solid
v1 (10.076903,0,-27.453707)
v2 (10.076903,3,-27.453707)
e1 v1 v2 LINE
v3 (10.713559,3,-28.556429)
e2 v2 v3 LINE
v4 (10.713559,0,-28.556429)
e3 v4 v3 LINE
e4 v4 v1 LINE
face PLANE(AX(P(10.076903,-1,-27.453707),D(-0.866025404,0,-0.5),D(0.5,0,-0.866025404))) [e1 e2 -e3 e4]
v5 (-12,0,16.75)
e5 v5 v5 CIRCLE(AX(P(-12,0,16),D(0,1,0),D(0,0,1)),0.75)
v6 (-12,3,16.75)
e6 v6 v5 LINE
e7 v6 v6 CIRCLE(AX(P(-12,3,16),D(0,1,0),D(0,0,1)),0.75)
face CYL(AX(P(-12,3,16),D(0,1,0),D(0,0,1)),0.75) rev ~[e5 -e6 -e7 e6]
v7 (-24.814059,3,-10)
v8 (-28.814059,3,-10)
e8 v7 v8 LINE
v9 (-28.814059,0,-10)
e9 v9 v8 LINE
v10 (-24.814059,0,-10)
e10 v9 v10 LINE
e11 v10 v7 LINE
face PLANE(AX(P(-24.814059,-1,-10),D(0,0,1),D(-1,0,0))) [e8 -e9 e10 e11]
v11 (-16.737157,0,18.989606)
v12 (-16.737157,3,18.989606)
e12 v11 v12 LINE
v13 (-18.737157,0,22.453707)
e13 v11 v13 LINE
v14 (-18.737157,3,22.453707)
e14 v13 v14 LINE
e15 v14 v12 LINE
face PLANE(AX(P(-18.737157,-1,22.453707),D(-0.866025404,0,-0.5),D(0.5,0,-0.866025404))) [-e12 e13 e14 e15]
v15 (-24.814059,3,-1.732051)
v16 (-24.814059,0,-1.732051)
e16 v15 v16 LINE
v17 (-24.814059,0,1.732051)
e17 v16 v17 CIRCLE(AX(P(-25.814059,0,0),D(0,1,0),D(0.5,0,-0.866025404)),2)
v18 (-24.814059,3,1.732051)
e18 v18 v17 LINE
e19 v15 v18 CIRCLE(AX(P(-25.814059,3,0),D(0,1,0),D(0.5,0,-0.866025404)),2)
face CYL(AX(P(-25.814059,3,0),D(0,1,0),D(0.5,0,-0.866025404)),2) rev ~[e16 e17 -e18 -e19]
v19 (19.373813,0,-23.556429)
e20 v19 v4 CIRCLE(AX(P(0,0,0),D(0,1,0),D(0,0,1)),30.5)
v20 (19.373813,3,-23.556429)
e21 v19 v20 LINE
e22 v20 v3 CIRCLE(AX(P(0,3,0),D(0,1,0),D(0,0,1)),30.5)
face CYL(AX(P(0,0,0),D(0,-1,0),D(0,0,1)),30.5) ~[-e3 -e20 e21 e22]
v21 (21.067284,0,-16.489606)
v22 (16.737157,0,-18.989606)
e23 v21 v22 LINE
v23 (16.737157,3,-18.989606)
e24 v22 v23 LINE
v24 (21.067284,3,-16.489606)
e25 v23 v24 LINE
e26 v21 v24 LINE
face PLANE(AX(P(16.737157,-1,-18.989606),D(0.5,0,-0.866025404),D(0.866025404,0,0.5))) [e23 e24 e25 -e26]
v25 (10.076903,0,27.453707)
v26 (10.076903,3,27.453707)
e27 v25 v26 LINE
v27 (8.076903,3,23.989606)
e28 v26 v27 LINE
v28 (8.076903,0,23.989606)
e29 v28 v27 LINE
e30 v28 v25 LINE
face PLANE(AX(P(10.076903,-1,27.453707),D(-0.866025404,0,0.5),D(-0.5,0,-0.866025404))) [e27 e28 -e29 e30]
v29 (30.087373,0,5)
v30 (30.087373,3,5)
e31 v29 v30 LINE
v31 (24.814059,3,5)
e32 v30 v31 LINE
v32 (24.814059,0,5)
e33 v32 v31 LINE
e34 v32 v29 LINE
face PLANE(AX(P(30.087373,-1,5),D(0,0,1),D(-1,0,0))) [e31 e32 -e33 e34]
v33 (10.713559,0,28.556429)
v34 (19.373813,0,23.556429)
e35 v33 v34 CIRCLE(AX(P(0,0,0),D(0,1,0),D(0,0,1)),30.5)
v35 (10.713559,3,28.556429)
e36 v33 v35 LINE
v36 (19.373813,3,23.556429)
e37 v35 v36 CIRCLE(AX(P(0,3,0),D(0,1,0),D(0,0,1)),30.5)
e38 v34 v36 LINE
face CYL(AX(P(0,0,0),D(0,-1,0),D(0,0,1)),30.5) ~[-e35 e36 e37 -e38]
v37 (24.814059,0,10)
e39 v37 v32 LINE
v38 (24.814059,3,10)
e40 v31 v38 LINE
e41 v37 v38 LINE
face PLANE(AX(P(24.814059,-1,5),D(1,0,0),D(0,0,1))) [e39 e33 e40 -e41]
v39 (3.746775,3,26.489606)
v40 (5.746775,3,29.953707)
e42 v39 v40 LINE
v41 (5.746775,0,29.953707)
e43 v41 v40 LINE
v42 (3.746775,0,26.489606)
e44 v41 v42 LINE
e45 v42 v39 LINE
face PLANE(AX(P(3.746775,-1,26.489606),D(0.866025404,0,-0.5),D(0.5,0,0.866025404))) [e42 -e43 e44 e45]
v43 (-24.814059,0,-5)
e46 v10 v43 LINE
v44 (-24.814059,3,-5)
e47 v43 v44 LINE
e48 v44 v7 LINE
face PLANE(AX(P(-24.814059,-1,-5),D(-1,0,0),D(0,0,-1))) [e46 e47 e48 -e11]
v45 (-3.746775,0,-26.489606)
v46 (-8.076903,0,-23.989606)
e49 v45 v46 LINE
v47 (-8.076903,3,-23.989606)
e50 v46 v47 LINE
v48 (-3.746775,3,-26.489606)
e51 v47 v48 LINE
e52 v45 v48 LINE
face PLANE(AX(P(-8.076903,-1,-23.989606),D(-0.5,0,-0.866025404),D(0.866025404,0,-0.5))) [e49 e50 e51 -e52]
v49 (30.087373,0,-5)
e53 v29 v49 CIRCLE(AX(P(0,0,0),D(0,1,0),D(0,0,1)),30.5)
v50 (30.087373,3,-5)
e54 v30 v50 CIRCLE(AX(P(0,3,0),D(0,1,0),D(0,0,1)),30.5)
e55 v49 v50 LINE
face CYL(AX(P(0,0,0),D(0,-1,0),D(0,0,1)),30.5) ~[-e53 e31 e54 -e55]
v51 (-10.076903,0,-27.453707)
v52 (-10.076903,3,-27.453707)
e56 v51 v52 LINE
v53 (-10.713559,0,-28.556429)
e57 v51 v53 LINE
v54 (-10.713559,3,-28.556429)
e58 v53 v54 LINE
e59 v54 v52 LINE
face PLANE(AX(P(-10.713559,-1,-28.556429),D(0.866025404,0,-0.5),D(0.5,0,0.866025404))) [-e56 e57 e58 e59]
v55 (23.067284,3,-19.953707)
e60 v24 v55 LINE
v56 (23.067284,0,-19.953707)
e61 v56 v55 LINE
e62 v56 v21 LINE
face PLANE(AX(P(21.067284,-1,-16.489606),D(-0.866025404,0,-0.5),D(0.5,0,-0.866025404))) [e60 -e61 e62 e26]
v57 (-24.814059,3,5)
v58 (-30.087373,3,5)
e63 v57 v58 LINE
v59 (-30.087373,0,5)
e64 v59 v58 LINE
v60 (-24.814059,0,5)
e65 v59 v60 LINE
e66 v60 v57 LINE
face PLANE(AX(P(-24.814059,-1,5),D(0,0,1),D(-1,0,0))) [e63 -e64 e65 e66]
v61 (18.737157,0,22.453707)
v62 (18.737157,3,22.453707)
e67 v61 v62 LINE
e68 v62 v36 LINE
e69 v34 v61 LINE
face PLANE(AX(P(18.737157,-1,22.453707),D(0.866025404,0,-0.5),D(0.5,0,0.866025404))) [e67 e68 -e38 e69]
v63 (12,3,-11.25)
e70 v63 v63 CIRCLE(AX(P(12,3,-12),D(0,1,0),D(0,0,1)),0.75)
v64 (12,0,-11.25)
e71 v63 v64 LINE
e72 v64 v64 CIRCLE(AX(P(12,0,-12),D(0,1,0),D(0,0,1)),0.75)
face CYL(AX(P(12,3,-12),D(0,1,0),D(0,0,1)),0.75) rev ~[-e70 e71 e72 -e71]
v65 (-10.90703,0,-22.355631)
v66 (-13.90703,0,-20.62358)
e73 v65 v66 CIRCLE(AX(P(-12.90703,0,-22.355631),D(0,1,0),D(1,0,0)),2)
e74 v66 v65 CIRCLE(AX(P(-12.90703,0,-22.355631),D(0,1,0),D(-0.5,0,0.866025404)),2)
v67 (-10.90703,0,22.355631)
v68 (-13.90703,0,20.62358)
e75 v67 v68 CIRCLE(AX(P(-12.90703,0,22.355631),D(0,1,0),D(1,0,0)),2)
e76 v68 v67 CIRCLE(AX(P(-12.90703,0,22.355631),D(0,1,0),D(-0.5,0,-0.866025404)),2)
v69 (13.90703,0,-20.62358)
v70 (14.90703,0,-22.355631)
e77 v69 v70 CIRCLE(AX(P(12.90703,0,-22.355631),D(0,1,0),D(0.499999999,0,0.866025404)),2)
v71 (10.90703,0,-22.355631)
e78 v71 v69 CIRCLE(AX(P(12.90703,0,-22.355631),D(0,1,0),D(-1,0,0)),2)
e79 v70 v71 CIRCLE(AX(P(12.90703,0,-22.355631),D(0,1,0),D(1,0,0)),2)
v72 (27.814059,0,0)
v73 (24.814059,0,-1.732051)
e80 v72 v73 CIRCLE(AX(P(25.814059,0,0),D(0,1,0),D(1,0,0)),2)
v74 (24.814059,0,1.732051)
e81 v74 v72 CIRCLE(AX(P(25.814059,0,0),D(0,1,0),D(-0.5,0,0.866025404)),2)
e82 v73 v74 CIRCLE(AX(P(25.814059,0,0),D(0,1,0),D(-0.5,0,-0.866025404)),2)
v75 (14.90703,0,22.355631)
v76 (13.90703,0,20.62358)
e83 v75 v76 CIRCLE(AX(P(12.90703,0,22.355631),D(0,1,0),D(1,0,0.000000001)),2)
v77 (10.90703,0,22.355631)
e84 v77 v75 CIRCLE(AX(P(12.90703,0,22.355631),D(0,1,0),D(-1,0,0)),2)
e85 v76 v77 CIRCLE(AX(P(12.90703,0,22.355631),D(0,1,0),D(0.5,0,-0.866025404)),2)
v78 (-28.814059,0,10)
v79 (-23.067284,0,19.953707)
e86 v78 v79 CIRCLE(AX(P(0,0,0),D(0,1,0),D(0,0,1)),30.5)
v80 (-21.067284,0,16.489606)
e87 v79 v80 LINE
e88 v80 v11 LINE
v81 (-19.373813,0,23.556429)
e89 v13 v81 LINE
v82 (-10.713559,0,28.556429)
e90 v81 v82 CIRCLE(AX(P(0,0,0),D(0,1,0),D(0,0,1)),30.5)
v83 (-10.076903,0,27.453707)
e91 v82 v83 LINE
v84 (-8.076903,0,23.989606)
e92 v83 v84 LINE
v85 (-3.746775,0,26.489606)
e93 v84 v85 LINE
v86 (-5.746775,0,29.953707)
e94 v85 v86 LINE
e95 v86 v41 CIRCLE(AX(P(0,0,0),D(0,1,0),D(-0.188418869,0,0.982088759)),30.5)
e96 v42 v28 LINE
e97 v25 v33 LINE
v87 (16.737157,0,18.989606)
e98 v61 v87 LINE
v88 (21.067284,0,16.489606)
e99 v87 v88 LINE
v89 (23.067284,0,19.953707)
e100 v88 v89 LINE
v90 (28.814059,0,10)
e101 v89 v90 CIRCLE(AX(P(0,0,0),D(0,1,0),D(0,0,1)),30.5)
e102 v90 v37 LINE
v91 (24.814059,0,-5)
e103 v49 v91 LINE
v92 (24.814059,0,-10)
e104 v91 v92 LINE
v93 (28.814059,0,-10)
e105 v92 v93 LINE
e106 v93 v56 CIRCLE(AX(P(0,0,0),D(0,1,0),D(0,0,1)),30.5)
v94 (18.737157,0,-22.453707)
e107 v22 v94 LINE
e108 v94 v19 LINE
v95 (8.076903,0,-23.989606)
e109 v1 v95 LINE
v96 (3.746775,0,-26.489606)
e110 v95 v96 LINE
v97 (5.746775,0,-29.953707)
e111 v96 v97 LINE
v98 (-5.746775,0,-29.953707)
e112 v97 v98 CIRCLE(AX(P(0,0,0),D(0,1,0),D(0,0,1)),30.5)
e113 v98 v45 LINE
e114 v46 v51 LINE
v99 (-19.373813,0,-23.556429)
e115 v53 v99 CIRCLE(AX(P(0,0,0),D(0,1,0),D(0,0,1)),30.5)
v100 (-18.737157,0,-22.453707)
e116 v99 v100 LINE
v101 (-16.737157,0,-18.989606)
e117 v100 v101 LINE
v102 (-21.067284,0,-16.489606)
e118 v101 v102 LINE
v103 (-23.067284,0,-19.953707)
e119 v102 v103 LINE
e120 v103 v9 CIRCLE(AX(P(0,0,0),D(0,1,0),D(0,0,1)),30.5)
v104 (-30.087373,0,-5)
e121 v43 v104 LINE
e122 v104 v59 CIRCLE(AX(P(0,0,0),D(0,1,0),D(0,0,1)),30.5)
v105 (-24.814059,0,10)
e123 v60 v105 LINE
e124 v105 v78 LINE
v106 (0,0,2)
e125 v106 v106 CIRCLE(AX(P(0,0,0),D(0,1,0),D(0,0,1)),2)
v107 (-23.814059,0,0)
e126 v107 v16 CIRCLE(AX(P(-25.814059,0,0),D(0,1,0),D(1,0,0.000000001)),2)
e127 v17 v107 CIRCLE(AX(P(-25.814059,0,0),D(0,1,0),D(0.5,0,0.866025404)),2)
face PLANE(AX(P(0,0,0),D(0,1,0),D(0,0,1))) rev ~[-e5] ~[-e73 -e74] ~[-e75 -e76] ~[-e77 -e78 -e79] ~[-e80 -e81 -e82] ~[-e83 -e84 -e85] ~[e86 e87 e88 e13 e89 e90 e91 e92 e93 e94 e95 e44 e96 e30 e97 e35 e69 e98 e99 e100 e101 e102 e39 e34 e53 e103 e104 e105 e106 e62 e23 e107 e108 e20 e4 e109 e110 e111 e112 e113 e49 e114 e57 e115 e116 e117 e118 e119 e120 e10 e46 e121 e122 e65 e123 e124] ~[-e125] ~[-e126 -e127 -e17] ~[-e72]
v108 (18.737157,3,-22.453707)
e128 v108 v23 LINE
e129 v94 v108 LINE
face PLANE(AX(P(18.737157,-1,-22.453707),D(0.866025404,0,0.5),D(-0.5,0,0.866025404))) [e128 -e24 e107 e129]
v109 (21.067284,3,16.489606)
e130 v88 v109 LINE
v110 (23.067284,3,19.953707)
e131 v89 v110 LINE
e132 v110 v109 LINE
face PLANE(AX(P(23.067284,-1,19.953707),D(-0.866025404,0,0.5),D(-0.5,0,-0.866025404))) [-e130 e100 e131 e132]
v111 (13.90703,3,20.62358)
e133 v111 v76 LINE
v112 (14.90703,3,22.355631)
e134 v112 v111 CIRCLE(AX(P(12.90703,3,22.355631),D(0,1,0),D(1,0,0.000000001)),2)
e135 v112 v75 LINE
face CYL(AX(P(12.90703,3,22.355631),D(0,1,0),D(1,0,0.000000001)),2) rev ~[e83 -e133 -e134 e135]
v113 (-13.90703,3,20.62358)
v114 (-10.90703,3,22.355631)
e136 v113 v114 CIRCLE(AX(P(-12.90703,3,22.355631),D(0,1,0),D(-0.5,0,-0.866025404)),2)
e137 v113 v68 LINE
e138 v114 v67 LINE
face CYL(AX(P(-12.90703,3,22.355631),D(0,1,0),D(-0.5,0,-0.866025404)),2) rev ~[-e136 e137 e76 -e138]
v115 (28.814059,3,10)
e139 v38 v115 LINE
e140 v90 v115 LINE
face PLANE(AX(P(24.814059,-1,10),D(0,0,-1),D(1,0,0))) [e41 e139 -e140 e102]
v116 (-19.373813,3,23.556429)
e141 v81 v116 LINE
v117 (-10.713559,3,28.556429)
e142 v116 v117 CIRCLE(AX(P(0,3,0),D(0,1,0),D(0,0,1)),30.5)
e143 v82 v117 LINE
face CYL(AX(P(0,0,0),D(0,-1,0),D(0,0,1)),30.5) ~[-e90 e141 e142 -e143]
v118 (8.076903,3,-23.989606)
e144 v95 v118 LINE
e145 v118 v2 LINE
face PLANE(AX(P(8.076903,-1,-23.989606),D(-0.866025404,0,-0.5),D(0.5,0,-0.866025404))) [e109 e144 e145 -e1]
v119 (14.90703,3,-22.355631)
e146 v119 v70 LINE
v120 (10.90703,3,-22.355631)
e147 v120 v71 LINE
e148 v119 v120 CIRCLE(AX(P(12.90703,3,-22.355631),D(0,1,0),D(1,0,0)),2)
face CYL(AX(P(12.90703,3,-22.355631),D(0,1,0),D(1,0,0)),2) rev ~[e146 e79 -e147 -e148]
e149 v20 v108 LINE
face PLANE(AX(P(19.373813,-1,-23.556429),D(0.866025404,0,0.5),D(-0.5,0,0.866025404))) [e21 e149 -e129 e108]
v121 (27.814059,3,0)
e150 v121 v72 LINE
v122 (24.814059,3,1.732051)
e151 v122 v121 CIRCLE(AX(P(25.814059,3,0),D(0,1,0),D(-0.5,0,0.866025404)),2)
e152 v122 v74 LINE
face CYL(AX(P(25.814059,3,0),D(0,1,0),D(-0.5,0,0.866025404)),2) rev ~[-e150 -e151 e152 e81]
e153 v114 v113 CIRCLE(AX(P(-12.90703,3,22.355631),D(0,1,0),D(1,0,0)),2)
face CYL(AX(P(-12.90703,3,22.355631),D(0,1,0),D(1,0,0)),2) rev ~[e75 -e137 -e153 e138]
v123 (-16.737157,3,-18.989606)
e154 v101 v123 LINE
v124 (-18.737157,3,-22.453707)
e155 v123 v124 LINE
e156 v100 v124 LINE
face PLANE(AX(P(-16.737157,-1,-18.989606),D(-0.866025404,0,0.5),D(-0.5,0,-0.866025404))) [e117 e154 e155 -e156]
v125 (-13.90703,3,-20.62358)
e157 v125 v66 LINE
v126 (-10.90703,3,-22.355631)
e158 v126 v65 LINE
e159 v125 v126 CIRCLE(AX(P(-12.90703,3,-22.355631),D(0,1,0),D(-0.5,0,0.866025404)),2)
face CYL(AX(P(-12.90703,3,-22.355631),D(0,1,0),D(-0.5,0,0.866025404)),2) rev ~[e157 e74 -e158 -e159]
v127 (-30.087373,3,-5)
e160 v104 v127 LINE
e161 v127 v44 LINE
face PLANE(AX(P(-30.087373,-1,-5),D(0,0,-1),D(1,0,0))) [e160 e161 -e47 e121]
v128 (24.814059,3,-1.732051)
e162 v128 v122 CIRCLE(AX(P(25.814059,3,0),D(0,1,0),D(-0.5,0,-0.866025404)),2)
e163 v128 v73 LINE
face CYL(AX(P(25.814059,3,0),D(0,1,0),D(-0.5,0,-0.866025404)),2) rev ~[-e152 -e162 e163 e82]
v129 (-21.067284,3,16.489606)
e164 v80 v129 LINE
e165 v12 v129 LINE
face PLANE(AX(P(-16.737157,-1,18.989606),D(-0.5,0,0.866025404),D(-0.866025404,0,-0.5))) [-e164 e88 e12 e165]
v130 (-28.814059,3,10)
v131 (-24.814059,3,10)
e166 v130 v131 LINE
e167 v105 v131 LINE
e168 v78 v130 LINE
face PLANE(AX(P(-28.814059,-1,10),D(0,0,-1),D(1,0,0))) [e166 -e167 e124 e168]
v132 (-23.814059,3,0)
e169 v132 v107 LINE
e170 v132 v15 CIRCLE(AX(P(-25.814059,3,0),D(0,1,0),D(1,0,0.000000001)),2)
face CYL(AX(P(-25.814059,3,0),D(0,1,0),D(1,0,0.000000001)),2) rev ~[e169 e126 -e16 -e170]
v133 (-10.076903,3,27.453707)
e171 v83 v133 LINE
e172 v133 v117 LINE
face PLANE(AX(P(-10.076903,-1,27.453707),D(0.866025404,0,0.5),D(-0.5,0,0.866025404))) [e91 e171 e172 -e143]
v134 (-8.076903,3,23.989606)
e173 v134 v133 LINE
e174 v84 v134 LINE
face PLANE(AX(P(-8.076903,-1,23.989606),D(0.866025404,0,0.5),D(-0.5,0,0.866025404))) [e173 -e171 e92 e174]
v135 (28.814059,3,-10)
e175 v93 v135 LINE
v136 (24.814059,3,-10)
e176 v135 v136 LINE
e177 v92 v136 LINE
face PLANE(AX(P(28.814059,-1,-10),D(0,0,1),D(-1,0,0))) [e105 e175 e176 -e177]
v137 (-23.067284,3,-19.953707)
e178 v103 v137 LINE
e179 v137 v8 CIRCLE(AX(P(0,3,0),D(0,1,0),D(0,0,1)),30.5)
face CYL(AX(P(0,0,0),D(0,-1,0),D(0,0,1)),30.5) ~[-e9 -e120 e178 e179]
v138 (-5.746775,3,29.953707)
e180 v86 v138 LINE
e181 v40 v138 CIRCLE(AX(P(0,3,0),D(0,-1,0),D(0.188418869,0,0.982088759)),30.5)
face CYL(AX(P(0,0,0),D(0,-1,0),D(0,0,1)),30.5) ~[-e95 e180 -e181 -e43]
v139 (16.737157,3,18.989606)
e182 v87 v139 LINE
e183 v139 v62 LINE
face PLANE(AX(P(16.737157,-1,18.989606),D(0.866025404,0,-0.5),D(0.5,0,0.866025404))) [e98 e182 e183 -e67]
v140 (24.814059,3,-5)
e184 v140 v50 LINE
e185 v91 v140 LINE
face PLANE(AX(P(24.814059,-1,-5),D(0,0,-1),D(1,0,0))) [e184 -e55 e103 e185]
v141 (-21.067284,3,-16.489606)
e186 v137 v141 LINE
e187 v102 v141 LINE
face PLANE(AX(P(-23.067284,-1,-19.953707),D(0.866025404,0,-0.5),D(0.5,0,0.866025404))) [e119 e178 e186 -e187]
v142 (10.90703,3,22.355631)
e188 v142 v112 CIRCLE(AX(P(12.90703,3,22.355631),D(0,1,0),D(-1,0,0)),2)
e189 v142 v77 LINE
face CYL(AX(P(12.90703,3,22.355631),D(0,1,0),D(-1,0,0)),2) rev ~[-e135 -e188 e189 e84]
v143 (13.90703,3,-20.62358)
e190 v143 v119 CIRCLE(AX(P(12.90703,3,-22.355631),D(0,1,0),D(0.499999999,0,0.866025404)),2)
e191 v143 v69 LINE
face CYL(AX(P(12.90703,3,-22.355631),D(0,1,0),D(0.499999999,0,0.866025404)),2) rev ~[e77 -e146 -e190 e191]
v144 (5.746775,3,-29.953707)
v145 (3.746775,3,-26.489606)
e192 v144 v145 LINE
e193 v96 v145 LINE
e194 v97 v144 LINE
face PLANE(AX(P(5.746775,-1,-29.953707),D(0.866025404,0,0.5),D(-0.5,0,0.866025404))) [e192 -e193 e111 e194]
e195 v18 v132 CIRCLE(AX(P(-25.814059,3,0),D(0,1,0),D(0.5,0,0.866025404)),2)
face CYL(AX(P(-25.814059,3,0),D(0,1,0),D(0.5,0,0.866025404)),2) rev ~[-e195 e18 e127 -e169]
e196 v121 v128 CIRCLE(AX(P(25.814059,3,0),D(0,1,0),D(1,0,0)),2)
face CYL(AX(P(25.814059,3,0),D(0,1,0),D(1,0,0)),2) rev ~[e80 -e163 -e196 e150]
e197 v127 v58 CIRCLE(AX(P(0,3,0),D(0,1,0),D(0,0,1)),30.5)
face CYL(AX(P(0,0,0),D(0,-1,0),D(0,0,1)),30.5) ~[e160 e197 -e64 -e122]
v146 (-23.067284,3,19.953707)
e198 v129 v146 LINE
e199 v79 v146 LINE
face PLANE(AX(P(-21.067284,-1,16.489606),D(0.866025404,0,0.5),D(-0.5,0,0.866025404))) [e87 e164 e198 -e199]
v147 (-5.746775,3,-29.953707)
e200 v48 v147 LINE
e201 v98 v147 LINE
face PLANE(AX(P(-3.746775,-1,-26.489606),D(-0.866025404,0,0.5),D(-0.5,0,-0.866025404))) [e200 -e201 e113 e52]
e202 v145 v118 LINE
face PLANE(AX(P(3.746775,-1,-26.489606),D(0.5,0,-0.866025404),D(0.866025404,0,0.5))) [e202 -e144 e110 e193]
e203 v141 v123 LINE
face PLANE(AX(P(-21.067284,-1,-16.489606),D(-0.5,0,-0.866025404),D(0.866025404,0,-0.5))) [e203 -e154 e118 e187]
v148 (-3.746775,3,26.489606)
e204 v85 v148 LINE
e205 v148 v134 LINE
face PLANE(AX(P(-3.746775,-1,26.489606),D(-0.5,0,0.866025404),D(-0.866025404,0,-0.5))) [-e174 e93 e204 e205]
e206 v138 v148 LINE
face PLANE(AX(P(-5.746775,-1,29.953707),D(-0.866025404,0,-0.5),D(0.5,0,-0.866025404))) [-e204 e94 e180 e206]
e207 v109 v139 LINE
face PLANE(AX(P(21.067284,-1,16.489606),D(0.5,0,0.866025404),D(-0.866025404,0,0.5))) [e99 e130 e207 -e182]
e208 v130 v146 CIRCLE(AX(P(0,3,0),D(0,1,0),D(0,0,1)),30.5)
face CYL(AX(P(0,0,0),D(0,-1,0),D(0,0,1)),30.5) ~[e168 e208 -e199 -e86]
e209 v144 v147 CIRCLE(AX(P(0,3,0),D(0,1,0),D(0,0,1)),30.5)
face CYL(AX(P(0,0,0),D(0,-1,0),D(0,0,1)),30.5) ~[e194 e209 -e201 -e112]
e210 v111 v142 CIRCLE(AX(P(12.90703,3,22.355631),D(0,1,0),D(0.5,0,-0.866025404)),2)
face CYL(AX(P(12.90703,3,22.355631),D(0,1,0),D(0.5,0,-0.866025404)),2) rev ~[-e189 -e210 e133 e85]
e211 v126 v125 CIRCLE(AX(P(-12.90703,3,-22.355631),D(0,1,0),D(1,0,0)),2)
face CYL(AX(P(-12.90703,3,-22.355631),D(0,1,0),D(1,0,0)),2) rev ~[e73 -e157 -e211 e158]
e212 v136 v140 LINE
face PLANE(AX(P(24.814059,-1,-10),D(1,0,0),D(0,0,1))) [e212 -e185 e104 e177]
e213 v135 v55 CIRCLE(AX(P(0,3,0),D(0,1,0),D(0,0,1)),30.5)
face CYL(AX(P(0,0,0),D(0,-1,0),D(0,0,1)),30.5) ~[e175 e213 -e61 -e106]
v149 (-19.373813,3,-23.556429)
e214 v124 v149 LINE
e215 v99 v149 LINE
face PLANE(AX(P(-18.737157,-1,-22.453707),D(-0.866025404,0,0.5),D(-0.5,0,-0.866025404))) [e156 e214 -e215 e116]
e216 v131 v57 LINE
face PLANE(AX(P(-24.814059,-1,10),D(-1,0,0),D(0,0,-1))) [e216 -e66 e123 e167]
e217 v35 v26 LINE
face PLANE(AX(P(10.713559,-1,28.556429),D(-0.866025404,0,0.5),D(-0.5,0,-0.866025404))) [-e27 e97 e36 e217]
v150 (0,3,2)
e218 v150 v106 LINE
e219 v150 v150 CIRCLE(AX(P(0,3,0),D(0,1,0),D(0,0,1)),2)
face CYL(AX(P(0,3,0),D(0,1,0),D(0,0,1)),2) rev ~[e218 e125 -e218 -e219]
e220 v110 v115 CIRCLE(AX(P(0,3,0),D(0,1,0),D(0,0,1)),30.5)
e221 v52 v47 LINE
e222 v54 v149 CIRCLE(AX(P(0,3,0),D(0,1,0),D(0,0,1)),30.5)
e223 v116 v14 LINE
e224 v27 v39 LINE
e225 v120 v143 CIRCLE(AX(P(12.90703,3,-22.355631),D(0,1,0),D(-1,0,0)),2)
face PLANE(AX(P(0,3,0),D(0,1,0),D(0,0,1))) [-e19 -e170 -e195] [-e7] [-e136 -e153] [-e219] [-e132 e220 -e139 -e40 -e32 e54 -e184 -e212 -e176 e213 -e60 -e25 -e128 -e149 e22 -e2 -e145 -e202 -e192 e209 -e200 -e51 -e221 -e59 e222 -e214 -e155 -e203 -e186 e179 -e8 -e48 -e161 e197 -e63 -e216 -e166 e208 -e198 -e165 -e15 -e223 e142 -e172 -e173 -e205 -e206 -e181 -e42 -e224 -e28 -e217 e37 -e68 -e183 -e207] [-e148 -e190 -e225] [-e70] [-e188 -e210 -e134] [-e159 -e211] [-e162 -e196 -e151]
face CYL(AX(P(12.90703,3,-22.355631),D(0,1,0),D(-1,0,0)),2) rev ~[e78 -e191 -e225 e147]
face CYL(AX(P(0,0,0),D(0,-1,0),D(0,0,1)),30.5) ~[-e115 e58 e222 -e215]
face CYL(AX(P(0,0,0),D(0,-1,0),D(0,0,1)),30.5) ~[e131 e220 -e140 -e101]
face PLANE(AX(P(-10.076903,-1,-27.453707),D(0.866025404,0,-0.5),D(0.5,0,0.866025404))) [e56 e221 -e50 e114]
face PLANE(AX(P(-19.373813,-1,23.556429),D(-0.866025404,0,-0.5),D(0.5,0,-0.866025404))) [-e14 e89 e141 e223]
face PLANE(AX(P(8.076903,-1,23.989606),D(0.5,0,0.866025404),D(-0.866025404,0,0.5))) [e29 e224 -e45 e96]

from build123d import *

# Parameters (mm, degrees)
CROQUIS1_R              = 30.5
SALIENTE_EXTRUIR1_DEPTH = 3
CROQUIS2_R              = 2
CORTAR_EXTRUIR1_DEPTH   = 4
CORTAR_EXTRUIR3_START   = -4
CORTAR_EXTRUIR3_DEPTH   = 4
CORTAR_EXTRUIR4_DEPTH   = 10
CROQUIS8_R              = 0.75
CORTAR_EXTRUIR5_DEPTH   = 3


with BuildPart() as part:
    # Croquis1 → Saliente-Extruir1 (new body)
    with BuildSketch(Plane(origin=(0, 0, 0), x_dir=(1, 0, 0), z_dir=(0, 1, 0))):
        with Locations(Location((0, 0, 0), (0, 0, 270))):
            Circle(CROQUIS1_R)
    extrude(amount=SALIENTE_EXTRUIR1_DEPTH)

    # Croquis2 → Cortar-Extruir1 (cut)
    with BuildSketch(Plane(origin=(0, 3, 0), x_dir=(1, 0, 0), z_dir=(0, 1, 0))):
        with Locations(Location((0, 0, 0), (0, 0, 270))):
            Circle(CROQUIS2_R)
    extrude(amount=-CORTAR_EXTRUIR1_DEPTH, mode=Mode.SUBTRACT)

    # Croquis5 → Cortar-Extruir3 (cut)
    with BuildSketch(Plane(origin=(0, 3, 0), x_dir=(1, 0, 0), z_dir=(0, 1, 0)).offset(CORTAR_EXTRUIR3_START)):
        with BuildLine():
            ThreePointArc((-28.814059068, 10), (-29.556634924, 7.526973624), (-30.087372767, 5))
            Line((-30.087372767, 5), (-28.814059068, 5))
            Line((-28.814059068, 5), (-24.814059068, 5))
            Line((-24.814059068, 5), (-24.814059068, 10))
            Line((-24.814059068, 10), (-28.814059068, 10))
        make_face()
        with BuildLine():
            Line((28.814059068, 5), (30.087372767, 5))
            ThreePointArc((30.087372767, 5), (29.556634924, 7.526973624), (28.814059068, 10))
            Line((28.814059068, 10), (24.814059068, 10))
            Line((24.814059068, 10), (24.814059068, 5))
            Line((24.814059068, 5), (28.814059068, 5))
        make_face()
        with BuildLine():
            Line((30.087372767, -5), (28.814059068, -5))
            Line((28.814059068, -5), (24.814059068, -5))
            Line((24.814059068, -5), (24.814059068, -10))
            Line((24.814059068, -10), (28.814059068, -10))
            ThreePointArc((28.814059068, -10), (29.556634924, -7.526973624), (30.087372767, -5))
        make_face()
        with BuildLine():
            ThreePointArc((19.373813402, -23.556429149), (21.296867835, -21.833309883), (23.067283572, -19.953707139))
            Line((23.067283572, -19.953707139), (21.067283572, -16.489605524))
            Line((21.067283572, -16.489605524), (16.737156553, -18.989605524))
            Line((16.737156553, -18.989605524), (18.737156553, -22.453707139))
            Line((18.737156553, -22.453707139), (19.373813402, -23.556429149))
        make_face()
        with BuildLine():
            ThreePointArc((5.746775496, -29.953707139), (8.25976709, -29.360283507), (10.713559364, -28.556429149))
            Line((10.713559364, -28.556429149), (10.076902515, -27.453707139))
            Line((10.076902515, -27.453707139), (8.076902515, -23.989605524))
            Line((8.076902515, -23.989605524), (3.746775496, -26.489605524))
            Line((3.746775496, -26.489605524), (5.746775496, -29.953707139))
        make_face()
        with BuildLine():
            ThreePointArc((-10.713559364, -28.556429149), (-8.25976709, -29.360283507), (-5.746775496, -29.953707139))
            Line((-5.746775496, -29.953707139), (-3.746775496, -26.489605524))
            Line((-3.746775496, -26.489605524), (-8.076902515, -23.989605524))
            Line((-8.076902515, -23.989605524), (-10.076902515, -27.453707139))
            Line((-10.076902515, -27.453707139), (-10.713559364, -28.556429149))
        make_face()
        with BuildLine():
            ThreePointArc((-23.067283572, -19.953707139), (-21.296867835, -21.833309883), (-19.373813402, -23.556429149))
            Line((-19.373813402, -23.556429149), (-18.737156553, -22.453707139))
            Line((-18.737156553, -22.453707139), (-16.737156553, -18.989605524))
            Line((-16.737156553, -18.989605524), (-21.067283572, -16.489605524))
            Line((-21.067283572, -16.489605524), (-23.067283572, -19.953707139))
        make_face()
        with BuildLine():
            ThreePointArc((-30.087372767, -5), (-29.556634924, -7.526973624), (-28.814059068, -10))
            Line((-28.814059068, -10), (-24.814059068, -10))
            Line((-24.814059068, -10), (-24.814059068, -5))
            Line((-24.814059068, -5), (-28.814059068, -5))
            Line((-28.814059068, -5), (-30.087372767, -5))
        make_face()
        with BuildLine():
            Line((-18.737156553, 22.453707139), (-19.373813402, 23.556429149))
            ThreePointArc((-19.373813402, 23.556429149), (-21.296867835, 21.833309883), (-23.067283572, 19.953707139))
            Line((-23.067283572, 19.953707139), (-21.067283572, 16.489605524))
            Line((-21.067283572, 16.489605524), (-16.737156553, 18.989605524))
            Line((-16.737156553, 18.989605524), (-18.737156553, 22.453707139))
        make_face()
        with BuildLine():
            Line((-3.746775496, 26.489605524), (-5.746775496, 29.953707139))
            ThreePointArc((-5.746775496, 29.953707139), (-8.25976709, 29.360283507), (-10.713559364, 28.556429149))
            Line((-10.713559364, 28.556429149), (-10.076902515, 27.453707139))
            Line((-10.076902515, 27.453707139), (-8.076902515, 23.989605524))
            Line((-8.076902515, 23.989605524), (-3.746775496, 26.489605524))
        make_face()
        with BuildLine():
            Line((10.076902515, 27.453707139), (10.713559364, 28.556429149))
            ThreePointArc((10.713559364, 28.556429149), (8.25976709, 29.360283507), (5.746775496, 29.953707139))
            Line((5.746775496, 29.953707139), (3.746775496, 26.489605524))
            Line((3.746775496, 26.489605524), (8.076902515, 23.989605524))
            Line((8.076902515, 23.989605524), (10.076902515, 27.453707139))
        make_face()
        with BuildLine():
            Line((21.067283572, 16.489605524), (23.067283572, 19.953707139))
            ThreePointArc((23.067283572, 19.953707139), (21.296867835, 21.833309883), (19.373813402, 23.556429149))
            Line((19.373813402, 23.556429149), (18.737156553, 22.453707139))
            Line((18.737156553, 22.453707139), (16.737156553, 18.989605524))
            Line((16.737156553, 18.989605524), (21.067283572, 16.489605524))
        make_face()
    extrude(amount=CORTAR_EXTRUIR3_DEPTH, mode=Mode.SUBTRACT)

    # Croquis7 → Cortar-Extruir4 (cut)
    with BuildSketch(Plane(origin=(0, 3, 0), x_dir=(1, 0, 0), z_dir=(0, 1, 0))):
        with BuildLine():
            ThreePointArc((-13.907029535, 20.623580122), (-11.907029535, 20.623580122), (-10.907029535, 22.355630929))
            Line((-10.907029535, 22.355630929), (-12.907029535, 22.355630929))
            Line((-12.907029535, 22.355630929), (-13.907029535, 20.623580122))
        make_face()
        with BuildLine():
            Line((-12.907029535, 22.355630929), (-10.907029535, 22.355630929))
            ThreePointArc((-10.907029535, 22.355630929), (-13.907029535, 24.087681737), (-13.907029535, 20.623580122))
            Line((-13.907029535, 20.623580122), (-12.907029535, 22.355630929))
        make_face()
        with BuildLine():
            ThreePointArc((-23.81405907, 0), (-24.082008262, 1), (-24.81405907, 1.732050808))
            Line((-24.81405907, 1.732050808), (-25.81405907, 0))
            Line((-25.81405907, 0), (-24.81405907, -1.732050808))
            ThreePointArc((-24.81405907, -1.732050808), (-24.082008262, -1), (-23.81405907, 0))
        make_face()
        with BuildLine():
            Line((-25.81405907, 0), (-24.81405907, 1.732050808))
            ThreePointArc((-24.81405907, 1.732050808), (-27.81405907, 0), (-24.81405907, -1.732050808))
            Line((-24.81405907, -1.732050808), (-25.81405907, 0))
        make_face()
        with BuildLine():
            ThreePointArc((10.907029535, 22.355630929), (11.907029535, 20.623580122), (13.907029535, 20.623580122))
            Line((13.907029535, 20.623580122), (12.907029535, 22.355630929))
            Line((12.907029535, 22.355630929), (10.907029535, 22.355630929))
        make_face()
        with BuildLine():
            Line((12.907029535, 22.355630929), (13.907029535, 20.623580122))
            ThreePointArc((13.907029535, 20.623580122), (14.639080343, 21.355630929), (14.907029535, 22.355630929))
            ThreePointArc((14.907029535, 22.355630929), (12.907029535, 24.355630929), (10.907029535, 22.355630929))
            Line((10.907029535, 22.355630929), (12.907029535, 22.355630929))
        make_face()
        with BuildLine():
            Line((24.81405907, -1.732050808), (25.81405907, 0))
            Line((25.81405907, 0), (24.81405907, 1.732050808))
            ThreePointArc((24.81405907, 1.732050808), (23.81405907, 0), (24.81405907, -1.732050808))
        make_face()
        with BuildLine():
            Line((24.81405907, 1.732050808), (25.81405907, 0))
            Line((25.81405907, 0), (24.81405907, -1.732050808))
            ThreePointArc((24.81405907, -1.732050808), (26.81405907, -1.732050808), (27.81405907, 0))
            ThreePointArc((27.81405907, 0), (26.81405907, 1.732050808), (24.81405907, 1.732050808))
        make_face()
        with BuildLine():
            ThreePointArc((-13.907029535, -20.623580122), (-13.907029535, -24.087681737), (-10.907029535, -22.355630929))
            Line((-10.907029535, -22.355630929), (-12.907029535, -22.355630929))
            Line((-12.907029535, -22.355630929), (-13.907029535, -20.623580122))
        make_face()
        with BuildLine():
            Line((-12.907029535, -22.355630929), (-10.907029535, -22.355630929))
            ThreePointArc((-10.907029535, -22.355630929), (-11.907029535, -20.623580122), (-13.907029535, -20.623580122))
            Line((-13.907029535, -20.623580122), (-12.907029535, -22.355630929))
        make_face()
        with BuildLine():
            ThreePointArc((14.907029535, -22.355630929), (14.639080343, -21.355630929), (13.907029535, -20.623580122))
            Line((13.907029535, -20.623580122), (12.907029535, -22.355630929))
            Line((12.907029535, -22.355630929), (10.907029535, -22.355630929))
            ThreePointArc((10.907029535, -22.355630929), (12.907029535, -24.355630929), (14.907029535, -22.355630929))
        make_face()
        with BuildLine():
            Line((12.907029535, -22.355630929), (13.907029535, -20.623580122))
            ThreePointArc((13.907029535, -20.623580122), (11.907029535, -20.623580122), (10.907029535, -22.355630929))
            Line((10.907029535, -22.355630929), (12.907029535, -22.355630929))
        make_face()
    extrude(amount=-CORTAR_EXTRUIR4_DEPTH, mode=Mode.SUBTRACT)

    # Croquis8 → Cortar-Extruir5 (cut)
    with BuildSketch(Plane(origin=(0, 3, 0), x_dir=(1, 0, 0), z_dir=(0, 1, 0))):
        with Locations(Location((12, 12, 0), (0, 0, 270))):
            Circle(CROQUIS8_R)
        with Locations(Location((-12, -16, 0), (0, 0, 270))):
            Circle(CROQUIS8_R)
    extrude(amount=-CORTAR_EXTRUIR5_DEPTH, mode=Mode.SUBTRACT)


solid = part.part
